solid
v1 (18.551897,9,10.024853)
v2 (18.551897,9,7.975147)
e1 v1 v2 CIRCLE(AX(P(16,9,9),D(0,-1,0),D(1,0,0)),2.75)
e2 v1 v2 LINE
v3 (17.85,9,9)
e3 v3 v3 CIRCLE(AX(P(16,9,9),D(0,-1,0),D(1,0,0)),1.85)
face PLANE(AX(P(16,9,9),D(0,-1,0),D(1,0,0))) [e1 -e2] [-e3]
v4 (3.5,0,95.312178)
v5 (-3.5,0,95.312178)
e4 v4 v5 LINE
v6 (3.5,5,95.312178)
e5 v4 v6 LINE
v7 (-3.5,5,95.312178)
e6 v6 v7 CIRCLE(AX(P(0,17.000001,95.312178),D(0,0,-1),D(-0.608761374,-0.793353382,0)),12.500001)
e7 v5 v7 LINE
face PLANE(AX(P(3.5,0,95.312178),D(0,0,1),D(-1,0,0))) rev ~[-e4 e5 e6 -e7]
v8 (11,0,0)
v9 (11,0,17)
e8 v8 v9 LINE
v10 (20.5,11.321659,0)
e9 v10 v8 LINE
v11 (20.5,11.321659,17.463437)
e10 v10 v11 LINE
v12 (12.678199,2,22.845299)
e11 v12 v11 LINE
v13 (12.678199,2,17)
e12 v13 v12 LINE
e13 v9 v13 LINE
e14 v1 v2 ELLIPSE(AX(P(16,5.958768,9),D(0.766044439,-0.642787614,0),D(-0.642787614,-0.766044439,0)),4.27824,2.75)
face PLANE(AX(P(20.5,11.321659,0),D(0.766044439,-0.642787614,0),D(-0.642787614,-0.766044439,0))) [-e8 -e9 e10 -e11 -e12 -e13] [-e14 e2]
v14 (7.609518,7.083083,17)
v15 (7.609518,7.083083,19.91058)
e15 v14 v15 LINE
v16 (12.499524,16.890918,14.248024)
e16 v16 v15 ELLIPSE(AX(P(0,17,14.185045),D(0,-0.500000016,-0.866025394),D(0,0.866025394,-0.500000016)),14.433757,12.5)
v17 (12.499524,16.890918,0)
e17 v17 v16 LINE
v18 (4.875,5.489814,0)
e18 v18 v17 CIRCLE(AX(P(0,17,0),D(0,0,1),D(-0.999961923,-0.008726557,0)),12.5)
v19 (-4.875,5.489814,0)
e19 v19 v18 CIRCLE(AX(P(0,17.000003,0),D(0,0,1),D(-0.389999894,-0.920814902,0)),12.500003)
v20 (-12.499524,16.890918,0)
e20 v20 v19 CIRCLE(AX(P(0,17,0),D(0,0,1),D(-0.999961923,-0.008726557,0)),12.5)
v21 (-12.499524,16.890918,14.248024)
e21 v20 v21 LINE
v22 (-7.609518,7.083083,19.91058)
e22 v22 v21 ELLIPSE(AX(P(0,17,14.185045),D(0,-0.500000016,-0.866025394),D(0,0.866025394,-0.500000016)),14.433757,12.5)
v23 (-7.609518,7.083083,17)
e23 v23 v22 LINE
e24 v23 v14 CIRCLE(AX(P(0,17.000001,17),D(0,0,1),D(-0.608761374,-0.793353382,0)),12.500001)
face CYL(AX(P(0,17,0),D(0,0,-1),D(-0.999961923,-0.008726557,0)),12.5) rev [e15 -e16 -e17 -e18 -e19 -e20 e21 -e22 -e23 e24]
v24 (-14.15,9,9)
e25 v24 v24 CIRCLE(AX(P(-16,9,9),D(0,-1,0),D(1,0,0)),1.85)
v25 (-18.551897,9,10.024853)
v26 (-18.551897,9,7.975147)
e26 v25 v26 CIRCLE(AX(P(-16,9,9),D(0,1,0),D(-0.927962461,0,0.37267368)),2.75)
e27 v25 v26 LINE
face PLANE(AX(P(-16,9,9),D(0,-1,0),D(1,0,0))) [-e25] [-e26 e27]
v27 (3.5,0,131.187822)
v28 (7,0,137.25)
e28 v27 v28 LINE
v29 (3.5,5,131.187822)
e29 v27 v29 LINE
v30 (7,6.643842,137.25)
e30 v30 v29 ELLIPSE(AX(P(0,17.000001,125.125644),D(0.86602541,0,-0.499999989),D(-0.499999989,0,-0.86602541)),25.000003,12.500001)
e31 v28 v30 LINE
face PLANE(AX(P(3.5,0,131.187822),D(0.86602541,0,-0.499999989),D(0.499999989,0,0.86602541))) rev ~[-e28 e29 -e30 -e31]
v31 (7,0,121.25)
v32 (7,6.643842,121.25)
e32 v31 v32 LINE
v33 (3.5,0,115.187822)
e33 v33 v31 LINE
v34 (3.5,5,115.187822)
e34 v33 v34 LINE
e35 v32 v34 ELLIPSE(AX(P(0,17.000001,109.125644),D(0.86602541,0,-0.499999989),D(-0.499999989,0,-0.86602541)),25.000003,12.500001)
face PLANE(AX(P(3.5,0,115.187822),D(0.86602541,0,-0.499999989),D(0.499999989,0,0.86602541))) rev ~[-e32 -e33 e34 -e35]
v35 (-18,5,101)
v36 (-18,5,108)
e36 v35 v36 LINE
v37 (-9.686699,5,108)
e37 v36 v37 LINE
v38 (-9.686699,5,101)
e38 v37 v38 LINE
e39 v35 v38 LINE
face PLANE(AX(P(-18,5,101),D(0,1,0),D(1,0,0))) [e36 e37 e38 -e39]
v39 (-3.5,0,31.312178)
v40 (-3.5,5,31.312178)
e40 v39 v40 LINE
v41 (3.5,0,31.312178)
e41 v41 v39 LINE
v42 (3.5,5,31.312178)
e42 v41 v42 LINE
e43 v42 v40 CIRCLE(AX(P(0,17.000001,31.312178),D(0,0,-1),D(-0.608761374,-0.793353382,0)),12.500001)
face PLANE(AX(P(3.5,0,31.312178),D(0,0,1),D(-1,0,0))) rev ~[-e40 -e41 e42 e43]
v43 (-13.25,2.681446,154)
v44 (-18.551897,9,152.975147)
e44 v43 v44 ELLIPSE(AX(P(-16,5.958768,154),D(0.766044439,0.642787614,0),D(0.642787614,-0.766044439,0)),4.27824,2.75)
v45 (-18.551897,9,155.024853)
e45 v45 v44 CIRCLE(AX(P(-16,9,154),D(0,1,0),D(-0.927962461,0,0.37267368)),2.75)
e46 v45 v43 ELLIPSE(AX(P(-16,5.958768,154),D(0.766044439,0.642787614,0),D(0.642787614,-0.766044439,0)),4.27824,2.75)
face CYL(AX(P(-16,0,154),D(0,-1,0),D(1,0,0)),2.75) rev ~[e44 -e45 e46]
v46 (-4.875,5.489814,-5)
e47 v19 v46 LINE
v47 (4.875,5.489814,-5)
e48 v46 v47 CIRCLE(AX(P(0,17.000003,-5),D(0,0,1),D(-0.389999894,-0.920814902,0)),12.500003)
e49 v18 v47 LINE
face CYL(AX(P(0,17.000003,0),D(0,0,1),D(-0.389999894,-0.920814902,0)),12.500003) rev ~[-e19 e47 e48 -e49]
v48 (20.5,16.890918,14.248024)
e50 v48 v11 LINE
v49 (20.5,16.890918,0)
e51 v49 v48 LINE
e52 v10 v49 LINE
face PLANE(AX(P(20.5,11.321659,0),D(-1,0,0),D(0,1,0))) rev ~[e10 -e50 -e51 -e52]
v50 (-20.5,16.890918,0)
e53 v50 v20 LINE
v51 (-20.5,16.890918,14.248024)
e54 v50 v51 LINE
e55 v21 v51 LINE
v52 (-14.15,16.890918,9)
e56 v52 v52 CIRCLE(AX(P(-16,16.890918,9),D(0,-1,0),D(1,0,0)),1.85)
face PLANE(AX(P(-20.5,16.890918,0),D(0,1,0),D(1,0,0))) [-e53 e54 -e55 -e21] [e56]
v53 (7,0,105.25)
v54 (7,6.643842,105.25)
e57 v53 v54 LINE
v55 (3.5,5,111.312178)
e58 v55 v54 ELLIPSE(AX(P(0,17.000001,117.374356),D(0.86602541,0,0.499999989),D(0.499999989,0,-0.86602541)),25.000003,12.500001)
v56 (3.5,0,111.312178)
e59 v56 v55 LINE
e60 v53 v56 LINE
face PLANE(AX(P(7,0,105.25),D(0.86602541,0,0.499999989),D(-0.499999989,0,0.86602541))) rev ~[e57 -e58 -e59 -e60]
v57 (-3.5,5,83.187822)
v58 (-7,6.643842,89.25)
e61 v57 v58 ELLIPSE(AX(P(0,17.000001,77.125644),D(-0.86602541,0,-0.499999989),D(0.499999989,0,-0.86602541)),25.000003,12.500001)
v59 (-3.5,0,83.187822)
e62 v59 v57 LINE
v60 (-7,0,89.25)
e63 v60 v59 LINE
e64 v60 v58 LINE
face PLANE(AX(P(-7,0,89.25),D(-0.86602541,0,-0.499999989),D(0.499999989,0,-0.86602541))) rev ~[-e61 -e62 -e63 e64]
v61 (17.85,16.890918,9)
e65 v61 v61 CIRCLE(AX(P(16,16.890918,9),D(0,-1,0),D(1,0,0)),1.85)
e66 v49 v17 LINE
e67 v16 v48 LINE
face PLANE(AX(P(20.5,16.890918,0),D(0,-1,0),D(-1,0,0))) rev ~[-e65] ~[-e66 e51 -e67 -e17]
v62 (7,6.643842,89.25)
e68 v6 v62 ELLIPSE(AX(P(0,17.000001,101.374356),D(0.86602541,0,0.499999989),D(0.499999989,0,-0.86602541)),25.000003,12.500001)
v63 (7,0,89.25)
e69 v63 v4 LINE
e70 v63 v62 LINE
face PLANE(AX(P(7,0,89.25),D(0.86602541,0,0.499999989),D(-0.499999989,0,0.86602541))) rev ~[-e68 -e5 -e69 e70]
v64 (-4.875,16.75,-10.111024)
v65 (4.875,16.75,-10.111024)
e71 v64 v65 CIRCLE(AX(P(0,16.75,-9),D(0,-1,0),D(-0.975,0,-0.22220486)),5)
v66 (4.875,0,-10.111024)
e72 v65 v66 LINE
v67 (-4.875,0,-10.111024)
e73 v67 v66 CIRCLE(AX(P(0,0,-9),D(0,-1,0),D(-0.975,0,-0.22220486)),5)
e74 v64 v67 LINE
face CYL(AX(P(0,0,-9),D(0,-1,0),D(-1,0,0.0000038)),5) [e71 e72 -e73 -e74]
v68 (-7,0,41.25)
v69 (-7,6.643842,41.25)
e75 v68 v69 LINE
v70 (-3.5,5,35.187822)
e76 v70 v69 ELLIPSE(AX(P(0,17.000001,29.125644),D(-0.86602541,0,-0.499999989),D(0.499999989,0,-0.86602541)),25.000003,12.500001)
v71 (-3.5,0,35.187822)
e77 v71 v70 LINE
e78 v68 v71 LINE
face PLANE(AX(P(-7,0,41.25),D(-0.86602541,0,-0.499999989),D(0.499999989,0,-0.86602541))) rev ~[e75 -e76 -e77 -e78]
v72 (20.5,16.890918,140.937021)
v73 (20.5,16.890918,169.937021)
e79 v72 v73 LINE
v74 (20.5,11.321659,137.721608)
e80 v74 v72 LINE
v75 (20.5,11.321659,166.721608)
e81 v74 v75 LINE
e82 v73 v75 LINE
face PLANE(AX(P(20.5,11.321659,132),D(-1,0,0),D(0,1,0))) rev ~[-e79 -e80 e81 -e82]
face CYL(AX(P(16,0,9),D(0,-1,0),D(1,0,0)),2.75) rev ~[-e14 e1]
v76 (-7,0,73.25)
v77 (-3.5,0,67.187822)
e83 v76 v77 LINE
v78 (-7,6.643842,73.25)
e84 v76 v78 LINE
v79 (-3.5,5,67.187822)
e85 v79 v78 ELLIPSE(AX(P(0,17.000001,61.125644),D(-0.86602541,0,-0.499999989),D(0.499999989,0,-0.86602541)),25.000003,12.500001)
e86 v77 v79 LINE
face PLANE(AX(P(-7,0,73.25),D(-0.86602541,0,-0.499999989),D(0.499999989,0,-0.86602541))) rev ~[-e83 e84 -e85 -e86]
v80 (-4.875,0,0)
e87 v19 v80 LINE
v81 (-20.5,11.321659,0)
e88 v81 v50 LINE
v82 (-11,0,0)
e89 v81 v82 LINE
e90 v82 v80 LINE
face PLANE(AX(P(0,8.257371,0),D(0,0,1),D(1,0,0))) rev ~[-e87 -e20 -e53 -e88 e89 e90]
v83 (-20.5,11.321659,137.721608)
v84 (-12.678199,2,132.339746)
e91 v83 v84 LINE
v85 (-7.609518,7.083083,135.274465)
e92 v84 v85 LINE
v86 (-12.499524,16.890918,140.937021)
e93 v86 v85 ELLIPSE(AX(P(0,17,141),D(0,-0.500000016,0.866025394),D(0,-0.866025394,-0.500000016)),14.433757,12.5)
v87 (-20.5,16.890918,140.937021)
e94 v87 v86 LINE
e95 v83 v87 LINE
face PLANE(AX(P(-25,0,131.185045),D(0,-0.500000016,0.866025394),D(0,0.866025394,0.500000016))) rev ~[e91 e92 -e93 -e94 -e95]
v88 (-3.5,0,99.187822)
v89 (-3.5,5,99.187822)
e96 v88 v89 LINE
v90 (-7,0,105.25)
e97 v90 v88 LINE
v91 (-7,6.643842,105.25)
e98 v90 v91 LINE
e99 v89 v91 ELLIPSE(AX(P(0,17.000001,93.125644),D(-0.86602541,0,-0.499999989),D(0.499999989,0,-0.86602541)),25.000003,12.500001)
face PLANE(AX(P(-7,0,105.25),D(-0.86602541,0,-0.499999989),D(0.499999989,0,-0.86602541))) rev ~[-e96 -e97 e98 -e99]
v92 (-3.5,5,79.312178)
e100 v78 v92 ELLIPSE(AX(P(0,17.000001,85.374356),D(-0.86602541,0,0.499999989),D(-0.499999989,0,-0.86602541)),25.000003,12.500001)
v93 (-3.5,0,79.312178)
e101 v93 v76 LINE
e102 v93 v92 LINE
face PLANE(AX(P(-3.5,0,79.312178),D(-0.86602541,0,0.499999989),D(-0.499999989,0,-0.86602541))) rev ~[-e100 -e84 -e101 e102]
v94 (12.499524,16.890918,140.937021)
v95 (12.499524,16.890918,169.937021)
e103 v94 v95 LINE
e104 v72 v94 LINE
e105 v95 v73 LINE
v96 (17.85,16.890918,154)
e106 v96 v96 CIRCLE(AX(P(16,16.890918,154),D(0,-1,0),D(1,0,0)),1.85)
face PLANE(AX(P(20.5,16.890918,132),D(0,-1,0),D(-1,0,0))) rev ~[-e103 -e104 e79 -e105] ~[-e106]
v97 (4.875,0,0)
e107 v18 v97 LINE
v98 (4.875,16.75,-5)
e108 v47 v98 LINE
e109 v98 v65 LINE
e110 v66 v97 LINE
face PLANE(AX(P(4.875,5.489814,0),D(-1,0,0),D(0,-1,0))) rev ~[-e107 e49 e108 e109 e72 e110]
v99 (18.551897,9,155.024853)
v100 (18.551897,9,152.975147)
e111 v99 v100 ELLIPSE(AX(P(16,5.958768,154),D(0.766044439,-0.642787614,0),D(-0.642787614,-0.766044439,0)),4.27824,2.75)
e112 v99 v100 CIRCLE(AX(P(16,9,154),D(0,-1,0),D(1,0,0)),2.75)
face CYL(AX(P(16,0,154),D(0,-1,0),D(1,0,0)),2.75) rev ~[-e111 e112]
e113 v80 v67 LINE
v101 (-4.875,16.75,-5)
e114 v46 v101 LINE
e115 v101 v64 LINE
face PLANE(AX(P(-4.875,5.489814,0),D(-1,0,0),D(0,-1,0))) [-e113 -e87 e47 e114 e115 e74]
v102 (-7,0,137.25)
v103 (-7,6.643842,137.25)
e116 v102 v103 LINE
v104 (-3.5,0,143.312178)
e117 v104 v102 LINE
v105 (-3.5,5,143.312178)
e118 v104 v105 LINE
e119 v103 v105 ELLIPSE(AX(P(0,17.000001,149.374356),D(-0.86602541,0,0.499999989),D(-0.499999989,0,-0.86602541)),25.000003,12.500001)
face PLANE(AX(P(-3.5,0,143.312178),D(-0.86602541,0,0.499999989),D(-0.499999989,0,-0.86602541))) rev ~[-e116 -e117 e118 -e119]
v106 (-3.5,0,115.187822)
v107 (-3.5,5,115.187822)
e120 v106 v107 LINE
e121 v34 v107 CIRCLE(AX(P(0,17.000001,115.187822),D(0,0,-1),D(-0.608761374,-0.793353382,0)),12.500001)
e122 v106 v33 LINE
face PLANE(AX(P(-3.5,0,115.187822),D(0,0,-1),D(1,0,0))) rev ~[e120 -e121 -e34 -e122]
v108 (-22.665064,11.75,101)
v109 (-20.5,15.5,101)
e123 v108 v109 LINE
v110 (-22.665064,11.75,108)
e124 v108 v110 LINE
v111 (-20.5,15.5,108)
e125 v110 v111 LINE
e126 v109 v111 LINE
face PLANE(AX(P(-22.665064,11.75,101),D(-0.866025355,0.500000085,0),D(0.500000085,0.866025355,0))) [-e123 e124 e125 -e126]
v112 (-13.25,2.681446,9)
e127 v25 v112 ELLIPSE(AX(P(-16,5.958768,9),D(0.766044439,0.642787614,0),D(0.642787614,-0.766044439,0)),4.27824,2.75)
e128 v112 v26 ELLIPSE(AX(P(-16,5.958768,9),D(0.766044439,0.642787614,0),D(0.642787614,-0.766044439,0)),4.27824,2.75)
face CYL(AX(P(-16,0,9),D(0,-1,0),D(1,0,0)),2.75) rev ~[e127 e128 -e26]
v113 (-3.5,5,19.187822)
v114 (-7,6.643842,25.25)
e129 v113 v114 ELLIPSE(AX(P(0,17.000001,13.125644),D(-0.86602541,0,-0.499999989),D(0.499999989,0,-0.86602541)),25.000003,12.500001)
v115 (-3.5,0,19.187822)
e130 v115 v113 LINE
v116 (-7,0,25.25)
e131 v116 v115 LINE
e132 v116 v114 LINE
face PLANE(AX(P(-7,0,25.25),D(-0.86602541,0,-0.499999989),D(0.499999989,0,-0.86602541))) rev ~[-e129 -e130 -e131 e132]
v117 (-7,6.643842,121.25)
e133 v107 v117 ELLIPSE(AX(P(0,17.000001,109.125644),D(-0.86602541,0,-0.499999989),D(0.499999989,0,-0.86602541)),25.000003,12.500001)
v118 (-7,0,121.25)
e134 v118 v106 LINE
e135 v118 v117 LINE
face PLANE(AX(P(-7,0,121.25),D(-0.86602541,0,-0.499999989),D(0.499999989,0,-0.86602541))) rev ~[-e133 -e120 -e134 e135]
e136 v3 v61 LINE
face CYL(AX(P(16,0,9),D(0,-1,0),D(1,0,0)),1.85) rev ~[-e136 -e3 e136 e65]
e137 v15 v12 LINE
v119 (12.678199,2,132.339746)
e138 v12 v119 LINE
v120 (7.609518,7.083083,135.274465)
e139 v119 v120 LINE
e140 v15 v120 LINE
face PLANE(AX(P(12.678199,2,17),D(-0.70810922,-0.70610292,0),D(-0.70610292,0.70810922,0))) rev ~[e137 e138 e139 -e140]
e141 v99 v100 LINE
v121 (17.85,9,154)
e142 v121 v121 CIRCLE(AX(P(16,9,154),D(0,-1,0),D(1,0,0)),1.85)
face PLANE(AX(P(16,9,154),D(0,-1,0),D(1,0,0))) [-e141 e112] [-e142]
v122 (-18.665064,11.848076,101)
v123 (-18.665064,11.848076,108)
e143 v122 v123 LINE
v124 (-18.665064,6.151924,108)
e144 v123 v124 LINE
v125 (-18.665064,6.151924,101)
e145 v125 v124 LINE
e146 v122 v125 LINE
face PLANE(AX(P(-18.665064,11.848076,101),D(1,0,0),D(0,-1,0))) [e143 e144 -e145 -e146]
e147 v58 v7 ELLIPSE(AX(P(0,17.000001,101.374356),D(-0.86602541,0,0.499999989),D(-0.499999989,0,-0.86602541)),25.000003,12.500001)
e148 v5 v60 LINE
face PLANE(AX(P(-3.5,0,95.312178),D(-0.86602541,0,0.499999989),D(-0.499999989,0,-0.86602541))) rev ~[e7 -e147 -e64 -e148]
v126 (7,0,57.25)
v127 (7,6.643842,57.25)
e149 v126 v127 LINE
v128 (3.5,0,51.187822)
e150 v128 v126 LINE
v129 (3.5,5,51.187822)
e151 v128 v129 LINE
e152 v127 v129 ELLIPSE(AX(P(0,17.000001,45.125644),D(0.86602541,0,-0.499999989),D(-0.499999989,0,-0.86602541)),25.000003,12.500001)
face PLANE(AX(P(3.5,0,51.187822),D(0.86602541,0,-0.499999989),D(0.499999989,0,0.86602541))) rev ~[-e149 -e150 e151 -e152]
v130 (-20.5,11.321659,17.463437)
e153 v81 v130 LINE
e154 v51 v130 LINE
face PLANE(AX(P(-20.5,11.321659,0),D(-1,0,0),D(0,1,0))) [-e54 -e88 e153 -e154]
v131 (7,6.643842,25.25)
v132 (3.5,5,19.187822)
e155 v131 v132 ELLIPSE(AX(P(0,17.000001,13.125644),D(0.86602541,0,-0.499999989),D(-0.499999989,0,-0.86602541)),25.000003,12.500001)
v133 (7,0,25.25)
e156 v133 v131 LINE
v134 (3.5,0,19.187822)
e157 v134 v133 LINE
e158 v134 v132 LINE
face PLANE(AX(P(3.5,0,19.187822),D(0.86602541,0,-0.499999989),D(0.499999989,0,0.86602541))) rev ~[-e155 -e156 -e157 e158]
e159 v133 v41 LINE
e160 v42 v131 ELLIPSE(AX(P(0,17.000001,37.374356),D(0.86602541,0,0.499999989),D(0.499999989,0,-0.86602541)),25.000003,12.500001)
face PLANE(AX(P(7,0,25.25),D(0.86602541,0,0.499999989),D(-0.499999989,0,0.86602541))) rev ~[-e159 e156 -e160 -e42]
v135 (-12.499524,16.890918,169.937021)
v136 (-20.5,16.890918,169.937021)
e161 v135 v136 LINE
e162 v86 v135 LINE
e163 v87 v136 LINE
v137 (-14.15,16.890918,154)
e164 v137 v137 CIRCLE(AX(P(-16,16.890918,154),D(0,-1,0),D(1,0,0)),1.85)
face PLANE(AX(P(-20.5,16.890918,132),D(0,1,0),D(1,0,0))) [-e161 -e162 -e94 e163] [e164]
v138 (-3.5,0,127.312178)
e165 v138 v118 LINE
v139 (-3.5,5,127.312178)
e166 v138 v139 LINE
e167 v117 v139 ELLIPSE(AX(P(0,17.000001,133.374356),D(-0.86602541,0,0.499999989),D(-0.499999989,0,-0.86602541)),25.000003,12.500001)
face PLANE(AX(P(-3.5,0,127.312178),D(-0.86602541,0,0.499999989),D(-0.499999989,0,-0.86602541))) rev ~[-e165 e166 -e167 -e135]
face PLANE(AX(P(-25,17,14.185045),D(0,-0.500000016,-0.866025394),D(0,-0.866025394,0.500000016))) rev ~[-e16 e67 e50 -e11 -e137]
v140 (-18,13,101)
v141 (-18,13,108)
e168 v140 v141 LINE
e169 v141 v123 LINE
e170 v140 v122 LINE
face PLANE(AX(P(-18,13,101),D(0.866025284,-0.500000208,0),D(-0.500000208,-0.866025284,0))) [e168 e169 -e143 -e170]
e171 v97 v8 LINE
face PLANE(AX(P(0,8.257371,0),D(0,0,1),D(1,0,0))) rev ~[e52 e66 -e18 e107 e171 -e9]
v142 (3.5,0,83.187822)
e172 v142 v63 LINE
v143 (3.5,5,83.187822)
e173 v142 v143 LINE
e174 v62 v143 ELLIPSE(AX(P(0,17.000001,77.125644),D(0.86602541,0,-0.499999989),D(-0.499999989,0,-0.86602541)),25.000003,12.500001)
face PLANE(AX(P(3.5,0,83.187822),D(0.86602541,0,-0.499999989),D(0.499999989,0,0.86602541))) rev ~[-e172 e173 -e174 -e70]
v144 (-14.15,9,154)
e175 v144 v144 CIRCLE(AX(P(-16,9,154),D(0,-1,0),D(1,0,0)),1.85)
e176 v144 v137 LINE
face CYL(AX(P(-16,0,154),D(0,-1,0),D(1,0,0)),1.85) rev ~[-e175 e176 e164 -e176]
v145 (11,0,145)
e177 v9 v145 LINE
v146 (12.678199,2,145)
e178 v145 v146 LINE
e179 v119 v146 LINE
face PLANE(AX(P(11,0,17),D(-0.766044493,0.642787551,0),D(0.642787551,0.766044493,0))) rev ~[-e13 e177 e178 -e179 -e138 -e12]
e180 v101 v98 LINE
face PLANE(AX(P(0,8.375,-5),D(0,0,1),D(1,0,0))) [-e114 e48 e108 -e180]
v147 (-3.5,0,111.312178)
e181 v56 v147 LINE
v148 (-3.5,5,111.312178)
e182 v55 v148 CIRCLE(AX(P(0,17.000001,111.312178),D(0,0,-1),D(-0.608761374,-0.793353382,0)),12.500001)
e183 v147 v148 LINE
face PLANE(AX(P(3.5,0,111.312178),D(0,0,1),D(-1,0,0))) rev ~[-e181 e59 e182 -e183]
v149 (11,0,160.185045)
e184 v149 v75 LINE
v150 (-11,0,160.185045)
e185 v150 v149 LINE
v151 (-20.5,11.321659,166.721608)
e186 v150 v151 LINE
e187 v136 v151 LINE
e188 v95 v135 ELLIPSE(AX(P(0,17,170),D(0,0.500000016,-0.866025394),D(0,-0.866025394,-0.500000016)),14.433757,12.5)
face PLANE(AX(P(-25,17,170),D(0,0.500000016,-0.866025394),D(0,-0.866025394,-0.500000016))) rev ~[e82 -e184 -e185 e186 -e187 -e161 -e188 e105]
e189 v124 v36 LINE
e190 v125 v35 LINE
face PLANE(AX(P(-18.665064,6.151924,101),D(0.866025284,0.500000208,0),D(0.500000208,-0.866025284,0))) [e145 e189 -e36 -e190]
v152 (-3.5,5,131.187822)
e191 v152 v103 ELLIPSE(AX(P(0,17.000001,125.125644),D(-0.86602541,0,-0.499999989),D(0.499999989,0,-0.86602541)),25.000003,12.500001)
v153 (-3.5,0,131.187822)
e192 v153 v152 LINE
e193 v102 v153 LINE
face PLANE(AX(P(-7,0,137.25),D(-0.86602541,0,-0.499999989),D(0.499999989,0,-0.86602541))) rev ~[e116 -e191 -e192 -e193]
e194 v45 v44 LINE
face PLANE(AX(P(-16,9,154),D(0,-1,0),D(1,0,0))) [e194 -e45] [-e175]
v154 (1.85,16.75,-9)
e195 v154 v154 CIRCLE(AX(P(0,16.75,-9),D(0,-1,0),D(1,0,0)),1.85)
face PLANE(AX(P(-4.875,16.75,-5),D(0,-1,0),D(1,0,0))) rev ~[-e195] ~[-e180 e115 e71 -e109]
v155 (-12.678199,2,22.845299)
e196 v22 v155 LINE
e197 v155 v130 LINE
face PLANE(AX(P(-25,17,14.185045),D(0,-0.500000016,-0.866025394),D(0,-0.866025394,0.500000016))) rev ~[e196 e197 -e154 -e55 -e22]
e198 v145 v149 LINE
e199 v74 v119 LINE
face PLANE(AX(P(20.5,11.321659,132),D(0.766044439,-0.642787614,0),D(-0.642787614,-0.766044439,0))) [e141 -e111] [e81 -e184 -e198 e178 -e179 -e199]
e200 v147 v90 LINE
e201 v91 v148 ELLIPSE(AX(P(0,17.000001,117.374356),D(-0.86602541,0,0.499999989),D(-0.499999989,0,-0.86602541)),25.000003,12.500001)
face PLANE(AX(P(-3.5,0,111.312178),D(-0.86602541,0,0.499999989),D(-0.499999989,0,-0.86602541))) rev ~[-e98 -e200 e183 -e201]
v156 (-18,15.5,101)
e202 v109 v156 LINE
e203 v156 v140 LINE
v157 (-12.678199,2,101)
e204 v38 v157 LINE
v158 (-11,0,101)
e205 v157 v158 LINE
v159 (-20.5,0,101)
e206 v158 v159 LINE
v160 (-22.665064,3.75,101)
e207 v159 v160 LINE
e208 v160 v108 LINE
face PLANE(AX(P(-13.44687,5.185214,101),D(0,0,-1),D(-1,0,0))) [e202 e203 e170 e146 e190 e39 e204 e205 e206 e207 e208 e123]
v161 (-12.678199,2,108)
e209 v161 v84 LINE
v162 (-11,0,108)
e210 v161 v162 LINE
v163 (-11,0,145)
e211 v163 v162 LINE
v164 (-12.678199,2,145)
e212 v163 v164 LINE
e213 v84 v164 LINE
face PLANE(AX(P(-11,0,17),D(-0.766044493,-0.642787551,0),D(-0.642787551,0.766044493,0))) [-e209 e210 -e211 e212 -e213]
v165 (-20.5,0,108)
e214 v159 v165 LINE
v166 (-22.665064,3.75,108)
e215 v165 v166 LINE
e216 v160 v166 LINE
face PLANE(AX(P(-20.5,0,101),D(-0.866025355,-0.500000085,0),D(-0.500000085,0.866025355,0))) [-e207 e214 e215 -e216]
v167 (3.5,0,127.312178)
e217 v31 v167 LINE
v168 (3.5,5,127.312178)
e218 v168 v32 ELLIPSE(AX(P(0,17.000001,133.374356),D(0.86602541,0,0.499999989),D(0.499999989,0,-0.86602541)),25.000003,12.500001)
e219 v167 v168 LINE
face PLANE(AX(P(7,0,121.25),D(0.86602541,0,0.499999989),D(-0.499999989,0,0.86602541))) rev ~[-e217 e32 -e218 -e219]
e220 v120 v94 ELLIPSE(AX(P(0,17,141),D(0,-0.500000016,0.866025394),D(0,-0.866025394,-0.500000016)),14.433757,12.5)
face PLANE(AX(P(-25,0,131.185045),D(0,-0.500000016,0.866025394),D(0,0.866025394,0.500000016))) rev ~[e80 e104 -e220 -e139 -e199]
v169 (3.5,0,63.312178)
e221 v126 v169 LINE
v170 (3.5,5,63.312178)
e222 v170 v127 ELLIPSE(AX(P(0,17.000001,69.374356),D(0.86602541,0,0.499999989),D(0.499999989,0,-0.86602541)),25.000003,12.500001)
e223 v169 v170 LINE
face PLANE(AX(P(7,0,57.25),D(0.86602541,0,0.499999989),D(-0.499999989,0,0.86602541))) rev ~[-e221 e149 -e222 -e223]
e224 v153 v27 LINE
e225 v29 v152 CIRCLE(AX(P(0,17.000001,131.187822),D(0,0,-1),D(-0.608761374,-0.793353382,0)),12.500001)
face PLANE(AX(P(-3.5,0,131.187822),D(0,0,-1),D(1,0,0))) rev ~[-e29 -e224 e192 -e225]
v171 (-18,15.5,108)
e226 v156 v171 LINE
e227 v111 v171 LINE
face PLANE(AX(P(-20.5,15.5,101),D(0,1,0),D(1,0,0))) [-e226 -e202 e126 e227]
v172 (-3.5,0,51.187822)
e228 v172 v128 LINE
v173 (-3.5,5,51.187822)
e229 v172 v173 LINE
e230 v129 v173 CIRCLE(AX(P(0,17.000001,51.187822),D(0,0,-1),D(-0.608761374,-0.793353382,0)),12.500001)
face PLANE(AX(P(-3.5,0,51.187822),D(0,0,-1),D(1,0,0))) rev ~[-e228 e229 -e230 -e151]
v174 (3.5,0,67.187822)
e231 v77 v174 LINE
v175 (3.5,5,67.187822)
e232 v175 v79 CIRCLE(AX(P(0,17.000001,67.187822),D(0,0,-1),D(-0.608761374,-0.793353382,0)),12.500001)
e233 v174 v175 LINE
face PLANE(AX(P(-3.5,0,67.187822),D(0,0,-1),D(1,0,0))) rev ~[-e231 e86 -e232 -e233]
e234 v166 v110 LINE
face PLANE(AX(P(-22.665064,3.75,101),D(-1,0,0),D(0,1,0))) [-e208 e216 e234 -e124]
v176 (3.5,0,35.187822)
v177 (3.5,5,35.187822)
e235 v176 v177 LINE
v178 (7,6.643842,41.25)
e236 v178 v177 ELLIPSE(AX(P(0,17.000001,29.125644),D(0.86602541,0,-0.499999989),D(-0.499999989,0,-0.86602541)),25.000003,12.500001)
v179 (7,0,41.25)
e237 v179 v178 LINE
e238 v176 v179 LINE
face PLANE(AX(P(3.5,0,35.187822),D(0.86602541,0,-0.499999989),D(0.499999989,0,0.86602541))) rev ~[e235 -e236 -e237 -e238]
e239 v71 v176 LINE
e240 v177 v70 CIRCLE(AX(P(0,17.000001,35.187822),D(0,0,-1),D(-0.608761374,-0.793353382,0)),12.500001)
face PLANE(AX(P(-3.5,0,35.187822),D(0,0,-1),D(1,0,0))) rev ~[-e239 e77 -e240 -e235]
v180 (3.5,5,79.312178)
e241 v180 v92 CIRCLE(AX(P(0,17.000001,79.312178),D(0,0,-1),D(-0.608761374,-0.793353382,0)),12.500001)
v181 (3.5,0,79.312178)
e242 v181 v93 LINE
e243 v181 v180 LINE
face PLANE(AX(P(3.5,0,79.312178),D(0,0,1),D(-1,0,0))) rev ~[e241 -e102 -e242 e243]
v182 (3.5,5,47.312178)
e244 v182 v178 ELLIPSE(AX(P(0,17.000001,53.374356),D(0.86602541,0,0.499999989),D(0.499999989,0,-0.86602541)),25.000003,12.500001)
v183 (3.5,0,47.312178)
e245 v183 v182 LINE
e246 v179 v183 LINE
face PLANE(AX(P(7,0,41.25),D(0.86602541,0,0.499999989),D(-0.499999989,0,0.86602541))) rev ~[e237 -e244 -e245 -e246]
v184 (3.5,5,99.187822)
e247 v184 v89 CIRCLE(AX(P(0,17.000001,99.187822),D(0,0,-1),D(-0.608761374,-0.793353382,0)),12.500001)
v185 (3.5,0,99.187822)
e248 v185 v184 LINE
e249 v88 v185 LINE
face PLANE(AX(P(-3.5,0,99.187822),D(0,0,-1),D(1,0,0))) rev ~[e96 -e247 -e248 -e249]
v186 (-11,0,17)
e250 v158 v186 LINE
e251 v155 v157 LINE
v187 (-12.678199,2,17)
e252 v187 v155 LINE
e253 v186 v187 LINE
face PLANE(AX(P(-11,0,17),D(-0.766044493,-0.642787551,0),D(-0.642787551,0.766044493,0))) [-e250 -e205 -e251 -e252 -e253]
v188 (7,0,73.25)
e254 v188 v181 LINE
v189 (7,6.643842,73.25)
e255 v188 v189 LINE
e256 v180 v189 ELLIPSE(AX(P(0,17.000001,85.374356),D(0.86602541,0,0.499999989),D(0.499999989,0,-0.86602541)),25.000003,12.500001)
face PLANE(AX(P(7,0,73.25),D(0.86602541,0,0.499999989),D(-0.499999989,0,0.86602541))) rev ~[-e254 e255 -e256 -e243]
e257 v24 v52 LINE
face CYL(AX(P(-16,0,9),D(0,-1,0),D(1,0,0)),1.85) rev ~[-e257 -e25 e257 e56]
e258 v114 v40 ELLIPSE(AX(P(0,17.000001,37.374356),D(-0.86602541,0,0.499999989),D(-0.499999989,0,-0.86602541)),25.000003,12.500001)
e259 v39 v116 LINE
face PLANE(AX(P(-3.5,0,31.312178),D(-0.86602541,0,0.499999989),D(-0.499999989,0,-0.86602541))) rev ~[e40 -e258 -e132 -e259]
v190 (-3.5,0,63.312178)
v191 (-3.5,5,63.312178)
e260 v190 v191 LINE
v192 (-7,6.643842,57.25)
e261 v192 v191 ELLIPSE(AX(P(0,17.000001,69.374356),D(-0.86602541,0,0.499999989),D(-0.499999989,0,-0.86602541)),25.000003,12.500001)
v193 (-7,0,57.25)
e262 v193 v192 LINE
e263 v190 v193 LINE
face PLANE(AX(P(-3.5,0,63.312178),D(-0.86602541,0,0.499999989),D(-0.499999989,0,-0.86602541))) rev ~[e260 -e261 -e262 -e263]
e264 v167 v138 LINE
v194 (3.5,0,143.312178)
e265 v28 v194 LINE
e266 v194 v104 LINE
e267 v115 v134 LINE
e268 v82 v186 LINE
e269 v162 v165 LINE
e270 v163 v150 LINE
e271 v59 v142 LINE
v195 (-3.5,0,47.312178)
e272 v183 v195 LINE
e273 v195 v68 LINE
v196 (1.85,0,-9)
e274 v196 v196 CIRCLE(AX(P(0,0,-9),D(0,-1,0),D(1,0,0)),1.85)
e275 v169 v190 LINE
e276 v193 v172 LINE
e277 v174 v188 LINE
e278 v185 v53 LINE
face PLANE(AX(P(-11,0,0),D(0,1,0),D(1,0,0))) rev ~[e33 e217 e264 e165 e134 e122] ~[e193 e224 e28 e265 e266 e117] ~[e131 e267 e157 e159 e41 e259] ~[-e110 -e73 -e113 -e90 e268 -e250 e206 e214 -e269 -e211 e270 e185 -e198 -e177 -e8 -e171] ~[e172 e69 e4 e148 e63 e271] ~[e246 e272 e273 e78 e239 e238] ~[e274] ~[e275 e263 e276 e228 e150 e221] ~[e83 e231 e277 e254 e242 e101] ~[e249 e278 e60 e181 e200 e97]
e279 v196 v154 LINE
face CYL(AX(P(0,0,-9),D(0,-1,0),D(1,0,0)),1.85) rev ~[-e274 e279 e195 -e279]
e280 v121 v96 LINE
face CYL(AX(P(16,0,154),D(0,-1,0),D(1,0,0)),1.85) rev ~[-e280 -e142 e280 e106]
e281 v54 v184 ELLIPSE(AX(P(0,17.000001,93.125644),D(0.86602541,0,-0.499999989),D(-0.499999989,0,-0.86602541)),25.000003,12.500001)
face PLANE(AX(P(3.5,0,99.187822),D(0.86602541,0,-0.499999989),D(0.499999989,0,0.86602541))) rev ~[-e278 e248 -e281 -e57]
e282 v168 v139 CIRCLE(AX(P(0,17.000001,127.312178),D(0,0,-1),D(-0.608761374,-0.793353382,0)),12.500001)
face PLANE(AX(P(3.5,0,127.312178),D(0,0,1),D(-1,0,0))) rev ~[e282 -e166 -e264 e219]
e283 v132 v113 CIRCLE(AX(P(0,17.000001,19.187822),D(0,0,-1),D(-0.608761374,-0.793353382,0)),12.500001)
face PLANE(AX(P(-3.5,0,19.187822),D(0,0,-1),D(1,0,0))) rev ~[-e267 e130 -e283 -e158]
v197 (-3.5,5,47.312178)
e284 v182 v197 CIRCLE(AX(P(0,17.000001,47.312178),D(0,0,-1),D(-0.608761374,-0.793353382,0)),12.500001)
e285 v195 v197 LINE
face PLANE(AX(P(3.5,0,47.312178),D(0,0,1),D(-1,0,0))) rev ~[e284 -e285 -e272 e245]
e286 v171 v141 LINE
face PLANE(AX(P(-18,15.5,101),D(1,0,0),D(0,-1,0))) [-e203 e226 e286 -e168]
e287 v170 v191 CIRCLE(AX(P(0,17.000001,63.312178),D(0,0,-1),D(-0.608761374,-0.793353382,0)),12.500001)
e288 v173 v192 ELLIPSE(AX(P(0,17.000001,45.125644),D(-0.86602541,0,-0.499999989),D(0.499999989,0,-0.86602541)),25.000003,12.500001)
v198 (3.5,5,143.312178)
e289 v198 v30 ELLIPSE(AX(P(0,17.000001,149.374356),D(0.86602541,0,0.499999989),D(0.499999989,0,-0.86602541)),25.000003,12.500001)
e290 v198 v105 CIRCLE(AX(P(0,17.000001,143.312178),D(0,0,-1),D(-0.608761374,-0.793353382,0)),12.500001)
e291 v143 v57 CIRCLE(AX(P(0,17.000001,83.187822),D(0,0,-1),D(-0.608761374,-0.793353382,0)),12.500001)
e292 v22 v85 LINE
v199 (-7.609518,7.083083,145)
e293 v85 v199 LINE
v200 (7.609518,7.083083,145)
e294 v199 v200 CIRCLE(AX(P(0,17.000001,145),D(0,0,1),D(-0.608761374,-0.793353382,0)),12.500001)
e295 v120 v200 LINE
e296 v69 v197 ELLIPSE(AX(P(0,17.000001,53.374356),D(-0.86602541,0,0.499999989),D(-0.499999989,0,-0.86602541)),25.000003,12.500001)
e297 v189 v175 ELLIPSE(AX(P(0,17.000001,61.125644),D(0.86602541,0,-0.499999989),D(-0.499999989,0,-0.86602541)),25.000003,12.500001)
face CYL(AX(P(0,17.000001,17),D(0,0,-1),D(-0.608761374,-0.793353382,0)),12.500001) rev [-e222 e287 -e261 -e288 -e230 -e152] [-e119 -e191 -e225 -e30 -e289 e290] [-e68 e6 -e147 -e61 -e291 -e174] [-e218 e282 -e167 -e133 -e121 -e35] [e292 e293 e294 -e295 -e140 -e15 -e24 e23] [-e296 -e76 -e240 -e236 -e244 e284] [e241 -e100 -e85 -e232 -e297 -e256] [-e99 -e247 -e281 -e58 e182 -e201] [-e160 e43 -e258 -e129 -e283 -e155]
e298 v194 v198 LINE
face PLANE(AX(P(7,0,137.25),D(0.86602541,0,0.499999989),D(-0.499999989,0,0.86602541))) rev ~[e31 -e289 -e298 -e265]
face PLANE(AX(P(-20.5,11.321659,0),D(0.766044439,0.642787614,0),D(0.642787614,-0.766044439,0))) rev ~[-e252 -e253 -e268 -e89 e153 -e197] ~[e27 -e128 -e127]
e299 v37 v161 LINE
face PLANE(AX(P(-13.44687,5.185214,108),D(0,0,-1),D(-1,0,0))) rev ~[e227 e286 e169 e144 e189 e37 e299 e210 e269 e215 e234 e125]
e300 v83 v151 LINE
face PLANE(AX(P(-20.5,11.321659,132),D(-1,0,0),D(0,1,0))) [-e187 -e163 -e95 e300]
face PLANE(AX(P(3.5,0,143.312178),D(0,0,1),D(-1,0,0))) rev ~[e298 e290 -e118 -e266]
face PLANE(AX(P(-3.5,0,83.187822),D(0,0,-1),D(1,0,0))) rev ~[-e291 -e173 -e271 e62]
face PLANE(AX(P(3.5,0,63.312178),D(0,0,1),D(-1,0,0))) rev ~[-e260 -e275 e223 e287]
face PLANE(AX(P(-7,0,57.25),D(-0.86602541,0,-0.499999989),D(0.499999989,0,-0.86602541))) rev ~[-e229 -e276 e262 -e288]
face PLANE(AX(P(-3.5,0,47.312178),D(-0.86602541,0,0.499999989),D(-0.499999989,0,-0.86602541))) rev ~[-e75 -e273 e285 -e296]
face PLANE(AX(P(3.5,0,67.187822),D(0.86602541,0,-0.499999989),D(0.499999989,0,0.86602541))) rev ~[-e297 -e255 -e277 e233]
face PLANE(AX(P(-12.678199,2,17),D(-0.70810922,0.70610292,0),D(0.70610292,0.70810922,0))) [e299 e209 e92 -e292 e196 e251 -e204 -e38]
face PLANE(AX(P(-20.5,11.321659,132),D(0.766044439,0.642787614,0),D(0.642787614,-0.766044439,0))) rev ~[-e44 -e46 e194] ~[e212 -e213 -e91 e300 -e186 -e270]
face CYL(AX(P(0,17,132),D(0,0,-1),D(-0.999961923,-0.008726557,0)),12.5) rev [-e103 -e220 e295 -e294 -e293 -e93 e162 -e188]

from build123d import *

# Parameters (mm, degrees)
SKETCH218_AS_DRAWN_R                    = 1.85
EXTRUDE136003_DEPTH                     = 20
EXTRUDE136003_ONTO_SKETCH218_ROLL_ANGLE = 90
EXTRUDE136010_DEPTH                     = 50
SKETCH221_AS_DRAWN_R                    = 2.75
EXTRUDE136006_DEPTH                     = 9
EXTRUDE136006_ONTO_SKETCH221_ROLL_ANGLE = 90
SKETCH220_AS_DRAWN_R                    = 1.85
EXTRUDE136005_DEPTH                     = 20
EXTRUDE136005_ONTO_SKETCH220_ROLL_ANGLE = 90
EXTRUDE136004_DEPTH                     = 38
EXTRUDE136011_DEPTH                     = 50
SKETCH224_AS_DRAWN_R                    = 2.75
EXTRUDE136009_DEPTH                     = 9
EXTRUDE136009_ONTO_SKETCH224_ROLL_ANGLE = 90
SKETCH223_AS_DRAWN_R                    = 1.85
EXTRUDE136008_DEPTH                     = 20
EXTRUDE136008_ONTO_SKETCH223_ROLL_ANGLE = 90
EXTRUDE136007_DEPTH                     = 24
EXTRUDE136012_DEPTH                     = 14
SKETCH227_W                             = 9.75
SKETCH227_H                             = 16.75
EXTRUDE136013_DEPTH                     = 9
EXTRUDE136014_DEPTH                     = 7
EXTRUDE136002_DEPTH                     = 128


with BuildPart() as extrude136003:
    # Sketch218 as drawn → Extrude136003 (new)
    with BuildSketch(Plane.XY):
        with Locations((0, -9)):
            Circle(SKETCH218_AS_DRAWN_R)
        Polygon((3.5, 19.187822), (7, 25.25), (3.5, 31.312178), (-3.5, 31.312178), (-7, 25.25), (-3.5, 19.187822), align=None)
        Polygon((3.5, 35.187822), (7, 41.25), (3.5, 47.312178), (-3.5, 47.312178), (-7, 41.25), (-3.5, 35.187822), align=None)
        Polygon((3.5, 51.187822), (7, 57.25), (3.5, 63.312178), (-3.5, 63.312178), (-7, 57.25), (-3.5, 51.187822), align=None)
        Polygon((3.5, 67.187822), (7, 73.25), (3.5, 79.312178), (-3.5, 79.312178), (-7, 73.25), (-3.5, 67.187822), align=None)
        Polygon((3.5, 83.187822), (7, 89.25), (3.5, 95.312178), (-3.5, 95.312178), (-7, 89.25), (-3.5, 83.187822), align=None)
        Polygon((3.5, 99.187822), (7, 105.25), (3.5, 111.312178), (-3.5, 111.312178), (-7, 105.25), (-3.5, 99.187822), align=None)
        Polygon((3.5, 115.187822), (7, 121.25), (3.5, 127.312178), (-3.5, 127.312178), (-7, 121.25), (-3.5, 115.187822), align=None)
        Polygon((3.5, 131.187822), (7, 137.25), (3.5, 143.312178), (-3.5, 143.312178), (-7, 137.25), (-3.5, 131.187822), align=None)
        with BuildLine():
            Line((5, -8.999981), (5, -15.999981))
            Line((5, -15.999981), (-5, -15.999981))
            Line((-5, -15.999981), (-5, -8.999981))
            ThreePointArc((-5, -8.999981), (0, -14), (5, -8.999981))
        make_face()
    extrude(amount=-EXTRUDE136003_DEPTH)


with BuildPart() as extrude136003_1:
    # Extrude136003 onto Sketch218 roll: moved
    add(extrude136003.part.rotate(Axis((0, 0, 0), (1, 0, 0)), EXTRUDE136003_ONTO_SKETCH218_ROLL_ANGLE))


with BuildPart() as extrude136003_2:
    # Extrude136003 onto Sketch218 placement: moved
    add(extrude136003_1.part)


with BuildPart() as extrude136010:
    # Sketch225 → Extrude136010 (new body)
    with BuildSketch(Plane.YZ):
        Polygon((0, -9.814955), (17, 0), (17, -9.814955), align=None)
        Polygon((17, 29), (0, 19.185045), (0, 29), align=None)
    extrude(amount=EXTRUDE136010_DEPTH)


with BuildPart() as extrude136010_1:
    # Extrude136010 placement: moved
    add(extrude136010.part.moved(Location((-25, 0, 0))))


with BuildPart() as extrude136006:
    # Sketch221 as drawn → Extrude136006 (new)
    with BuildSketch(Plane.XY):
        with Locations((-16, 0)):
            Circle(SKETCH221_AS_DRAWN_R)
        with Locations((16, 0)):
            Circle(SKETCH221_AS_DRAWN_R)
    extrude(amount=-EXTRUDE136006_DEPTH)


with BuildPart() as extrude136006_1:
    # Extrude136006 onto Sketch221 roll: moved
    add(extrude136006.part.rotate(Axis((0, 0, 0), (1, 0, 0)), EXTRUDE136006_ONTO_SKETCH221_ROLL_ANGLE))


with BuildPart() as extrude136006_2:
    # Extrude136006 onto Sketch221 placement: moved
    add(extrude136006_1.part)


with BuildPart() as fusion034004041035:
    # Sketch220 as drawn → Extrude136005 (new)
    with BuildSketch(Plane.XY):
        with Locations((-16, 0)):
            Circle(SKETCH220_AS_DRAWN_R)
        with Locations((16, 0)):
            Circle(SKETCH220_AS_DRAWN_R)
    extrude(amount=-EXTRUDE136005_DEPTH)


with BuildPart() as fusion034004041035_1:
    # Extrude136005 onto Sketch220 roll: moved
    add(fusion034004041035.part.rotate(Axis((0, 0, 0), (1, 0, 0)), EXTRUDE136005_ONTO_SKETCH220_ROLL_ANGLE))


with BuildPart() as fusion034004041035_2:
    # Extrude136005 onto Sketch220 placement: moved
    add(fusion034004041035_1.part)

    # Fusion034004041033: union Extrude136006
    add(extrude136006_2.part)


with BuildPart() as fusion034004041035_3:
    # Fusion034004041033 placement: moved
    add(fusion034004041035_2.part.moved(Location((0, 0, 13))))

    # Fusion034004041035: union Extrude136010
    add(extrude136010_1.part)


with BuildPart() as cut009010006006004:
    # Sketch219 → Extrude136004 (new body)
    with BuildSketch(Plane.XY):
        with BuildLine():
            Line((-11, 0), (11, 0))
            Line((20.5, 11.321659), (11, 0))
            Line((20.5, 11.321659), (20.5, 16.890918))
            Line((20.5, 16.890918), (12.499524, 16.890918))
            ThreePointArc((-12.499524, 16.890918), (0, 4.5), (12.499524, 16.890918))
            Line((-20.5, 16.890918), (-12.499524, 16.890918))
            Line((-20.5, 11.321659), (-20.5, 16.890918))
            Line((-20.5, 11.321659), (-11, 0))
        make_face()
    extrude(amount=EXTRUDE136004_DEPTH)


with BuildPart() as cut009010006006004_1:
    # Extrude136004 placement: moved
    add(cut009010006006004.part.moved(Location((0, 0, -9))))

    # Cut009010006006004: cut Fusion034004041035
    add(fusion034004041035_3.part, mode=Mode.SUBTRACT)


with BuildPart() as cut009010006006004_2:
    # Cut009010006006004 placement: moved
    add(cut009010006006004_1.part.moved(Location((0, 0, 141))))


with BuildPart() as extrude136011:
    # Sketch226 → Extrude136011 (new body)
    with BuildSketch(Plane.YZ):
        Polygon((0, 24), (17, 24), (17, 14.185045), align=None)
    extrude(amount=EXTRUDE136011_DEPTH)


with BuildPart() as extrude136011_1:
    # Extrude136011 placement: moved
    add(extrude136011.part.moved(Location((-25, 0, 0))))


with BuildPart() as extrude136009:
    # Sketch224 as drawn → Extrude136009 (new)
    with BuildSketch(Plane.XY):
        with Locations((-16, 0)):
            Circle(SKETCH224_AS_DRAWN_R)
        with Locations((16, 0)):
            Circle(SKETCH224_AS_DRAWN_R)
    extrude(amount=-EXTRUDE136009_DEPTH)


with BuildPart() as extrude136009_1:
    # Extrude136009 onto Sketch224 roll: moved
    add(extrude136009.part.rotate(Axis((0, 0, 0), (1, 0, 0)), EXTRUDE136009_ONTO_SKETCH224_ROLL_ANGLE))


with BuildPart() as extrude136009_2:
    # Extrude136009 onto Sketch224 placement: moved
    add(extrude136009_1.part)


with BuildPart() as fusion034004041034:
    # Sketch223 as drawn → Extrude136008 (new)
    with BuildSketch(Plane.XY):
        with Locations((-16, 0)):
            Circle(SKETCH223_AS_DRAWN_R)
        with Locations((16, 0)):
            Circle(SKETCH223_AS_DRAWN_R)
    extrude(amount=-EXTRUDE136008_DEPTH)


with BuildPart() as fusion034004041034_1:
    # Extrude136008 onto Sketch223 roll: moved
    add(fusion034004041034.part.rotate(Axis((0, 0, 0), (1, 0, 0)), EXTRUDE136008_ONTO_SKETCH223_ROLL_ANGLE))


with BuildPart() as fusion034004041034_2:
    # Extrude136008 onto Sketch223 placement: moved
    add(fusion034004041034_1.part)

    # Fusion034004041034: union Extrude136009
    add(extrude136009_2.part)


with BuildPart() as fusion034004041034_3:
    # Fusion034004041034 placement: moved
    add(fusion034004041034_2.part.moved(Location((0, 0, 9))))


with BuildPart() as cut009010006006005:
    # Sketch222 → Extrude136007 (new body)
    with BuildSketch(Plane.XY):
        with BuildLine():
            Line((-11, 0), (11, 0))
            Line((20.5, 11.321659), (11, 0))
            Line((20.5, 11.321659), (20.5, 16.890918))
            Line((20.5, 16.890918), (12.499524, 16.890918))
            ThreePointArc((-12.499524, 16.890918), (0, 4.5), (12.499524, 16.890918))
            Line((-20.5, 16.890918), (-12.499524, 16.890918))
            Line((-20.5, 11.321659), (-20.5, 16.890918))
            Line((-20.5, 11.321659), (-11, 0))
        make_face()
    extrude(amount=EXTRUDE136007_DEPTH)

    # Cut009010006006003: cut Fusion034004041034
    add(fusion034004041034_3.part, mode=Mode.SUBTRACT)

    # Cut009010006006005: cut Extrude136011
    add(extrude136011_1.part, mode=Mode.SUBTRACT)


with BuildPart() as extrude136012:
    # Sketch199 → Extrude136012 (new body)
    with BuildSketch(Plane.XY):
        with BuildLine():
            Line((-4.875, 0), (4.875, 0))
            Line((4.875, 5.489814), (4.875, 0))
            ThreePointArc((-4.875, 5.489814), (0, 4.5), (4.875, 5.489814))
            Line((-4.875, 5.489814), (-4.875, 0))
        make_face()
    extrude(amount=-EXTRUDE136012_DEPTH)


with BuildPart() as extrude136013:
    # Sketch227 → Extrude136013 (new body)
    with BuildSketch(Plane.XY):
        with Locations((0, 8.375)):
            Rectangle(SKETCH227_W, SKETCH227_H)
    extrude(amount=-EXTRUDE136013_DEPTH)


with BuildPart() as extrude136013_1:
    # Extrude136013 placement: moved
    add(extrude136013.part.moved(Location((0, 0, -5))))


with BuildPart() as extrude136014:
    # Sketch228 → Extrude136014 (new body)
    with BuildSketch(Plane.XY):
        Polygon((0, 5), (0, 0), (-20.5, 0), (-22.665064, 3.75), (-22.665064, 11.75), (-20.5, 15.5), (-18, 15.5), (-18, 13), (-18.665064, 11.848076), (-18.665064, 6.151924), (-18, 5), align=None)
    extrude(amount=EXTRUDE136014_DEPTH)


with BuildPart() as extrude136014_1:
    # Extrude136014 placement: moved
    add(extrude136014.part.moved(Location((0, 0, 101))))


with BuildPart() as cut009010006006006:
    # Sketch217 → Extrude136002 (new body)
    with BuildSketch(Plane.XY):
        with BuildLine():
            Line((-11, 0), (11, 0))
            Line((11, 0), (12.678199, 2))
            Line((12.678199, 2), (7.609518, 7.083083))
            ThreePointArc((-7.609518, 7.083083), (0, 4.5), (7.609518, 7.083083))
            Line((-12.678199, 2), (-7.609518, 7.083083))
            Line((-11, 0), (-12.678199, 2))
        make_face()
    extrude(amount=EXTRUDE136002_DEPTH)


with BuildPart() as cut009010006006006_1:
    # Extrude136002 placement: moved
    add(cut009010006006006.part.moved(Location((0, 0, 17))))

    # Fusion034004041036: union Cut009010006006004, Cut009010006006005, Extrude136012, Extrude136013, Extrude136014
    add(cut009010006006004_2.part)
    add(cut009010006006005.part)
    add(extrude136012.part)
    add(extrude136013_1.part)
    add(extrude136014_1.part)

    # Cut009010006006006: cut Extrude136003
    add(extrude136003_2.part, mode=Mode.SUBTRACT)


solid = cut009010006006006_1.part
